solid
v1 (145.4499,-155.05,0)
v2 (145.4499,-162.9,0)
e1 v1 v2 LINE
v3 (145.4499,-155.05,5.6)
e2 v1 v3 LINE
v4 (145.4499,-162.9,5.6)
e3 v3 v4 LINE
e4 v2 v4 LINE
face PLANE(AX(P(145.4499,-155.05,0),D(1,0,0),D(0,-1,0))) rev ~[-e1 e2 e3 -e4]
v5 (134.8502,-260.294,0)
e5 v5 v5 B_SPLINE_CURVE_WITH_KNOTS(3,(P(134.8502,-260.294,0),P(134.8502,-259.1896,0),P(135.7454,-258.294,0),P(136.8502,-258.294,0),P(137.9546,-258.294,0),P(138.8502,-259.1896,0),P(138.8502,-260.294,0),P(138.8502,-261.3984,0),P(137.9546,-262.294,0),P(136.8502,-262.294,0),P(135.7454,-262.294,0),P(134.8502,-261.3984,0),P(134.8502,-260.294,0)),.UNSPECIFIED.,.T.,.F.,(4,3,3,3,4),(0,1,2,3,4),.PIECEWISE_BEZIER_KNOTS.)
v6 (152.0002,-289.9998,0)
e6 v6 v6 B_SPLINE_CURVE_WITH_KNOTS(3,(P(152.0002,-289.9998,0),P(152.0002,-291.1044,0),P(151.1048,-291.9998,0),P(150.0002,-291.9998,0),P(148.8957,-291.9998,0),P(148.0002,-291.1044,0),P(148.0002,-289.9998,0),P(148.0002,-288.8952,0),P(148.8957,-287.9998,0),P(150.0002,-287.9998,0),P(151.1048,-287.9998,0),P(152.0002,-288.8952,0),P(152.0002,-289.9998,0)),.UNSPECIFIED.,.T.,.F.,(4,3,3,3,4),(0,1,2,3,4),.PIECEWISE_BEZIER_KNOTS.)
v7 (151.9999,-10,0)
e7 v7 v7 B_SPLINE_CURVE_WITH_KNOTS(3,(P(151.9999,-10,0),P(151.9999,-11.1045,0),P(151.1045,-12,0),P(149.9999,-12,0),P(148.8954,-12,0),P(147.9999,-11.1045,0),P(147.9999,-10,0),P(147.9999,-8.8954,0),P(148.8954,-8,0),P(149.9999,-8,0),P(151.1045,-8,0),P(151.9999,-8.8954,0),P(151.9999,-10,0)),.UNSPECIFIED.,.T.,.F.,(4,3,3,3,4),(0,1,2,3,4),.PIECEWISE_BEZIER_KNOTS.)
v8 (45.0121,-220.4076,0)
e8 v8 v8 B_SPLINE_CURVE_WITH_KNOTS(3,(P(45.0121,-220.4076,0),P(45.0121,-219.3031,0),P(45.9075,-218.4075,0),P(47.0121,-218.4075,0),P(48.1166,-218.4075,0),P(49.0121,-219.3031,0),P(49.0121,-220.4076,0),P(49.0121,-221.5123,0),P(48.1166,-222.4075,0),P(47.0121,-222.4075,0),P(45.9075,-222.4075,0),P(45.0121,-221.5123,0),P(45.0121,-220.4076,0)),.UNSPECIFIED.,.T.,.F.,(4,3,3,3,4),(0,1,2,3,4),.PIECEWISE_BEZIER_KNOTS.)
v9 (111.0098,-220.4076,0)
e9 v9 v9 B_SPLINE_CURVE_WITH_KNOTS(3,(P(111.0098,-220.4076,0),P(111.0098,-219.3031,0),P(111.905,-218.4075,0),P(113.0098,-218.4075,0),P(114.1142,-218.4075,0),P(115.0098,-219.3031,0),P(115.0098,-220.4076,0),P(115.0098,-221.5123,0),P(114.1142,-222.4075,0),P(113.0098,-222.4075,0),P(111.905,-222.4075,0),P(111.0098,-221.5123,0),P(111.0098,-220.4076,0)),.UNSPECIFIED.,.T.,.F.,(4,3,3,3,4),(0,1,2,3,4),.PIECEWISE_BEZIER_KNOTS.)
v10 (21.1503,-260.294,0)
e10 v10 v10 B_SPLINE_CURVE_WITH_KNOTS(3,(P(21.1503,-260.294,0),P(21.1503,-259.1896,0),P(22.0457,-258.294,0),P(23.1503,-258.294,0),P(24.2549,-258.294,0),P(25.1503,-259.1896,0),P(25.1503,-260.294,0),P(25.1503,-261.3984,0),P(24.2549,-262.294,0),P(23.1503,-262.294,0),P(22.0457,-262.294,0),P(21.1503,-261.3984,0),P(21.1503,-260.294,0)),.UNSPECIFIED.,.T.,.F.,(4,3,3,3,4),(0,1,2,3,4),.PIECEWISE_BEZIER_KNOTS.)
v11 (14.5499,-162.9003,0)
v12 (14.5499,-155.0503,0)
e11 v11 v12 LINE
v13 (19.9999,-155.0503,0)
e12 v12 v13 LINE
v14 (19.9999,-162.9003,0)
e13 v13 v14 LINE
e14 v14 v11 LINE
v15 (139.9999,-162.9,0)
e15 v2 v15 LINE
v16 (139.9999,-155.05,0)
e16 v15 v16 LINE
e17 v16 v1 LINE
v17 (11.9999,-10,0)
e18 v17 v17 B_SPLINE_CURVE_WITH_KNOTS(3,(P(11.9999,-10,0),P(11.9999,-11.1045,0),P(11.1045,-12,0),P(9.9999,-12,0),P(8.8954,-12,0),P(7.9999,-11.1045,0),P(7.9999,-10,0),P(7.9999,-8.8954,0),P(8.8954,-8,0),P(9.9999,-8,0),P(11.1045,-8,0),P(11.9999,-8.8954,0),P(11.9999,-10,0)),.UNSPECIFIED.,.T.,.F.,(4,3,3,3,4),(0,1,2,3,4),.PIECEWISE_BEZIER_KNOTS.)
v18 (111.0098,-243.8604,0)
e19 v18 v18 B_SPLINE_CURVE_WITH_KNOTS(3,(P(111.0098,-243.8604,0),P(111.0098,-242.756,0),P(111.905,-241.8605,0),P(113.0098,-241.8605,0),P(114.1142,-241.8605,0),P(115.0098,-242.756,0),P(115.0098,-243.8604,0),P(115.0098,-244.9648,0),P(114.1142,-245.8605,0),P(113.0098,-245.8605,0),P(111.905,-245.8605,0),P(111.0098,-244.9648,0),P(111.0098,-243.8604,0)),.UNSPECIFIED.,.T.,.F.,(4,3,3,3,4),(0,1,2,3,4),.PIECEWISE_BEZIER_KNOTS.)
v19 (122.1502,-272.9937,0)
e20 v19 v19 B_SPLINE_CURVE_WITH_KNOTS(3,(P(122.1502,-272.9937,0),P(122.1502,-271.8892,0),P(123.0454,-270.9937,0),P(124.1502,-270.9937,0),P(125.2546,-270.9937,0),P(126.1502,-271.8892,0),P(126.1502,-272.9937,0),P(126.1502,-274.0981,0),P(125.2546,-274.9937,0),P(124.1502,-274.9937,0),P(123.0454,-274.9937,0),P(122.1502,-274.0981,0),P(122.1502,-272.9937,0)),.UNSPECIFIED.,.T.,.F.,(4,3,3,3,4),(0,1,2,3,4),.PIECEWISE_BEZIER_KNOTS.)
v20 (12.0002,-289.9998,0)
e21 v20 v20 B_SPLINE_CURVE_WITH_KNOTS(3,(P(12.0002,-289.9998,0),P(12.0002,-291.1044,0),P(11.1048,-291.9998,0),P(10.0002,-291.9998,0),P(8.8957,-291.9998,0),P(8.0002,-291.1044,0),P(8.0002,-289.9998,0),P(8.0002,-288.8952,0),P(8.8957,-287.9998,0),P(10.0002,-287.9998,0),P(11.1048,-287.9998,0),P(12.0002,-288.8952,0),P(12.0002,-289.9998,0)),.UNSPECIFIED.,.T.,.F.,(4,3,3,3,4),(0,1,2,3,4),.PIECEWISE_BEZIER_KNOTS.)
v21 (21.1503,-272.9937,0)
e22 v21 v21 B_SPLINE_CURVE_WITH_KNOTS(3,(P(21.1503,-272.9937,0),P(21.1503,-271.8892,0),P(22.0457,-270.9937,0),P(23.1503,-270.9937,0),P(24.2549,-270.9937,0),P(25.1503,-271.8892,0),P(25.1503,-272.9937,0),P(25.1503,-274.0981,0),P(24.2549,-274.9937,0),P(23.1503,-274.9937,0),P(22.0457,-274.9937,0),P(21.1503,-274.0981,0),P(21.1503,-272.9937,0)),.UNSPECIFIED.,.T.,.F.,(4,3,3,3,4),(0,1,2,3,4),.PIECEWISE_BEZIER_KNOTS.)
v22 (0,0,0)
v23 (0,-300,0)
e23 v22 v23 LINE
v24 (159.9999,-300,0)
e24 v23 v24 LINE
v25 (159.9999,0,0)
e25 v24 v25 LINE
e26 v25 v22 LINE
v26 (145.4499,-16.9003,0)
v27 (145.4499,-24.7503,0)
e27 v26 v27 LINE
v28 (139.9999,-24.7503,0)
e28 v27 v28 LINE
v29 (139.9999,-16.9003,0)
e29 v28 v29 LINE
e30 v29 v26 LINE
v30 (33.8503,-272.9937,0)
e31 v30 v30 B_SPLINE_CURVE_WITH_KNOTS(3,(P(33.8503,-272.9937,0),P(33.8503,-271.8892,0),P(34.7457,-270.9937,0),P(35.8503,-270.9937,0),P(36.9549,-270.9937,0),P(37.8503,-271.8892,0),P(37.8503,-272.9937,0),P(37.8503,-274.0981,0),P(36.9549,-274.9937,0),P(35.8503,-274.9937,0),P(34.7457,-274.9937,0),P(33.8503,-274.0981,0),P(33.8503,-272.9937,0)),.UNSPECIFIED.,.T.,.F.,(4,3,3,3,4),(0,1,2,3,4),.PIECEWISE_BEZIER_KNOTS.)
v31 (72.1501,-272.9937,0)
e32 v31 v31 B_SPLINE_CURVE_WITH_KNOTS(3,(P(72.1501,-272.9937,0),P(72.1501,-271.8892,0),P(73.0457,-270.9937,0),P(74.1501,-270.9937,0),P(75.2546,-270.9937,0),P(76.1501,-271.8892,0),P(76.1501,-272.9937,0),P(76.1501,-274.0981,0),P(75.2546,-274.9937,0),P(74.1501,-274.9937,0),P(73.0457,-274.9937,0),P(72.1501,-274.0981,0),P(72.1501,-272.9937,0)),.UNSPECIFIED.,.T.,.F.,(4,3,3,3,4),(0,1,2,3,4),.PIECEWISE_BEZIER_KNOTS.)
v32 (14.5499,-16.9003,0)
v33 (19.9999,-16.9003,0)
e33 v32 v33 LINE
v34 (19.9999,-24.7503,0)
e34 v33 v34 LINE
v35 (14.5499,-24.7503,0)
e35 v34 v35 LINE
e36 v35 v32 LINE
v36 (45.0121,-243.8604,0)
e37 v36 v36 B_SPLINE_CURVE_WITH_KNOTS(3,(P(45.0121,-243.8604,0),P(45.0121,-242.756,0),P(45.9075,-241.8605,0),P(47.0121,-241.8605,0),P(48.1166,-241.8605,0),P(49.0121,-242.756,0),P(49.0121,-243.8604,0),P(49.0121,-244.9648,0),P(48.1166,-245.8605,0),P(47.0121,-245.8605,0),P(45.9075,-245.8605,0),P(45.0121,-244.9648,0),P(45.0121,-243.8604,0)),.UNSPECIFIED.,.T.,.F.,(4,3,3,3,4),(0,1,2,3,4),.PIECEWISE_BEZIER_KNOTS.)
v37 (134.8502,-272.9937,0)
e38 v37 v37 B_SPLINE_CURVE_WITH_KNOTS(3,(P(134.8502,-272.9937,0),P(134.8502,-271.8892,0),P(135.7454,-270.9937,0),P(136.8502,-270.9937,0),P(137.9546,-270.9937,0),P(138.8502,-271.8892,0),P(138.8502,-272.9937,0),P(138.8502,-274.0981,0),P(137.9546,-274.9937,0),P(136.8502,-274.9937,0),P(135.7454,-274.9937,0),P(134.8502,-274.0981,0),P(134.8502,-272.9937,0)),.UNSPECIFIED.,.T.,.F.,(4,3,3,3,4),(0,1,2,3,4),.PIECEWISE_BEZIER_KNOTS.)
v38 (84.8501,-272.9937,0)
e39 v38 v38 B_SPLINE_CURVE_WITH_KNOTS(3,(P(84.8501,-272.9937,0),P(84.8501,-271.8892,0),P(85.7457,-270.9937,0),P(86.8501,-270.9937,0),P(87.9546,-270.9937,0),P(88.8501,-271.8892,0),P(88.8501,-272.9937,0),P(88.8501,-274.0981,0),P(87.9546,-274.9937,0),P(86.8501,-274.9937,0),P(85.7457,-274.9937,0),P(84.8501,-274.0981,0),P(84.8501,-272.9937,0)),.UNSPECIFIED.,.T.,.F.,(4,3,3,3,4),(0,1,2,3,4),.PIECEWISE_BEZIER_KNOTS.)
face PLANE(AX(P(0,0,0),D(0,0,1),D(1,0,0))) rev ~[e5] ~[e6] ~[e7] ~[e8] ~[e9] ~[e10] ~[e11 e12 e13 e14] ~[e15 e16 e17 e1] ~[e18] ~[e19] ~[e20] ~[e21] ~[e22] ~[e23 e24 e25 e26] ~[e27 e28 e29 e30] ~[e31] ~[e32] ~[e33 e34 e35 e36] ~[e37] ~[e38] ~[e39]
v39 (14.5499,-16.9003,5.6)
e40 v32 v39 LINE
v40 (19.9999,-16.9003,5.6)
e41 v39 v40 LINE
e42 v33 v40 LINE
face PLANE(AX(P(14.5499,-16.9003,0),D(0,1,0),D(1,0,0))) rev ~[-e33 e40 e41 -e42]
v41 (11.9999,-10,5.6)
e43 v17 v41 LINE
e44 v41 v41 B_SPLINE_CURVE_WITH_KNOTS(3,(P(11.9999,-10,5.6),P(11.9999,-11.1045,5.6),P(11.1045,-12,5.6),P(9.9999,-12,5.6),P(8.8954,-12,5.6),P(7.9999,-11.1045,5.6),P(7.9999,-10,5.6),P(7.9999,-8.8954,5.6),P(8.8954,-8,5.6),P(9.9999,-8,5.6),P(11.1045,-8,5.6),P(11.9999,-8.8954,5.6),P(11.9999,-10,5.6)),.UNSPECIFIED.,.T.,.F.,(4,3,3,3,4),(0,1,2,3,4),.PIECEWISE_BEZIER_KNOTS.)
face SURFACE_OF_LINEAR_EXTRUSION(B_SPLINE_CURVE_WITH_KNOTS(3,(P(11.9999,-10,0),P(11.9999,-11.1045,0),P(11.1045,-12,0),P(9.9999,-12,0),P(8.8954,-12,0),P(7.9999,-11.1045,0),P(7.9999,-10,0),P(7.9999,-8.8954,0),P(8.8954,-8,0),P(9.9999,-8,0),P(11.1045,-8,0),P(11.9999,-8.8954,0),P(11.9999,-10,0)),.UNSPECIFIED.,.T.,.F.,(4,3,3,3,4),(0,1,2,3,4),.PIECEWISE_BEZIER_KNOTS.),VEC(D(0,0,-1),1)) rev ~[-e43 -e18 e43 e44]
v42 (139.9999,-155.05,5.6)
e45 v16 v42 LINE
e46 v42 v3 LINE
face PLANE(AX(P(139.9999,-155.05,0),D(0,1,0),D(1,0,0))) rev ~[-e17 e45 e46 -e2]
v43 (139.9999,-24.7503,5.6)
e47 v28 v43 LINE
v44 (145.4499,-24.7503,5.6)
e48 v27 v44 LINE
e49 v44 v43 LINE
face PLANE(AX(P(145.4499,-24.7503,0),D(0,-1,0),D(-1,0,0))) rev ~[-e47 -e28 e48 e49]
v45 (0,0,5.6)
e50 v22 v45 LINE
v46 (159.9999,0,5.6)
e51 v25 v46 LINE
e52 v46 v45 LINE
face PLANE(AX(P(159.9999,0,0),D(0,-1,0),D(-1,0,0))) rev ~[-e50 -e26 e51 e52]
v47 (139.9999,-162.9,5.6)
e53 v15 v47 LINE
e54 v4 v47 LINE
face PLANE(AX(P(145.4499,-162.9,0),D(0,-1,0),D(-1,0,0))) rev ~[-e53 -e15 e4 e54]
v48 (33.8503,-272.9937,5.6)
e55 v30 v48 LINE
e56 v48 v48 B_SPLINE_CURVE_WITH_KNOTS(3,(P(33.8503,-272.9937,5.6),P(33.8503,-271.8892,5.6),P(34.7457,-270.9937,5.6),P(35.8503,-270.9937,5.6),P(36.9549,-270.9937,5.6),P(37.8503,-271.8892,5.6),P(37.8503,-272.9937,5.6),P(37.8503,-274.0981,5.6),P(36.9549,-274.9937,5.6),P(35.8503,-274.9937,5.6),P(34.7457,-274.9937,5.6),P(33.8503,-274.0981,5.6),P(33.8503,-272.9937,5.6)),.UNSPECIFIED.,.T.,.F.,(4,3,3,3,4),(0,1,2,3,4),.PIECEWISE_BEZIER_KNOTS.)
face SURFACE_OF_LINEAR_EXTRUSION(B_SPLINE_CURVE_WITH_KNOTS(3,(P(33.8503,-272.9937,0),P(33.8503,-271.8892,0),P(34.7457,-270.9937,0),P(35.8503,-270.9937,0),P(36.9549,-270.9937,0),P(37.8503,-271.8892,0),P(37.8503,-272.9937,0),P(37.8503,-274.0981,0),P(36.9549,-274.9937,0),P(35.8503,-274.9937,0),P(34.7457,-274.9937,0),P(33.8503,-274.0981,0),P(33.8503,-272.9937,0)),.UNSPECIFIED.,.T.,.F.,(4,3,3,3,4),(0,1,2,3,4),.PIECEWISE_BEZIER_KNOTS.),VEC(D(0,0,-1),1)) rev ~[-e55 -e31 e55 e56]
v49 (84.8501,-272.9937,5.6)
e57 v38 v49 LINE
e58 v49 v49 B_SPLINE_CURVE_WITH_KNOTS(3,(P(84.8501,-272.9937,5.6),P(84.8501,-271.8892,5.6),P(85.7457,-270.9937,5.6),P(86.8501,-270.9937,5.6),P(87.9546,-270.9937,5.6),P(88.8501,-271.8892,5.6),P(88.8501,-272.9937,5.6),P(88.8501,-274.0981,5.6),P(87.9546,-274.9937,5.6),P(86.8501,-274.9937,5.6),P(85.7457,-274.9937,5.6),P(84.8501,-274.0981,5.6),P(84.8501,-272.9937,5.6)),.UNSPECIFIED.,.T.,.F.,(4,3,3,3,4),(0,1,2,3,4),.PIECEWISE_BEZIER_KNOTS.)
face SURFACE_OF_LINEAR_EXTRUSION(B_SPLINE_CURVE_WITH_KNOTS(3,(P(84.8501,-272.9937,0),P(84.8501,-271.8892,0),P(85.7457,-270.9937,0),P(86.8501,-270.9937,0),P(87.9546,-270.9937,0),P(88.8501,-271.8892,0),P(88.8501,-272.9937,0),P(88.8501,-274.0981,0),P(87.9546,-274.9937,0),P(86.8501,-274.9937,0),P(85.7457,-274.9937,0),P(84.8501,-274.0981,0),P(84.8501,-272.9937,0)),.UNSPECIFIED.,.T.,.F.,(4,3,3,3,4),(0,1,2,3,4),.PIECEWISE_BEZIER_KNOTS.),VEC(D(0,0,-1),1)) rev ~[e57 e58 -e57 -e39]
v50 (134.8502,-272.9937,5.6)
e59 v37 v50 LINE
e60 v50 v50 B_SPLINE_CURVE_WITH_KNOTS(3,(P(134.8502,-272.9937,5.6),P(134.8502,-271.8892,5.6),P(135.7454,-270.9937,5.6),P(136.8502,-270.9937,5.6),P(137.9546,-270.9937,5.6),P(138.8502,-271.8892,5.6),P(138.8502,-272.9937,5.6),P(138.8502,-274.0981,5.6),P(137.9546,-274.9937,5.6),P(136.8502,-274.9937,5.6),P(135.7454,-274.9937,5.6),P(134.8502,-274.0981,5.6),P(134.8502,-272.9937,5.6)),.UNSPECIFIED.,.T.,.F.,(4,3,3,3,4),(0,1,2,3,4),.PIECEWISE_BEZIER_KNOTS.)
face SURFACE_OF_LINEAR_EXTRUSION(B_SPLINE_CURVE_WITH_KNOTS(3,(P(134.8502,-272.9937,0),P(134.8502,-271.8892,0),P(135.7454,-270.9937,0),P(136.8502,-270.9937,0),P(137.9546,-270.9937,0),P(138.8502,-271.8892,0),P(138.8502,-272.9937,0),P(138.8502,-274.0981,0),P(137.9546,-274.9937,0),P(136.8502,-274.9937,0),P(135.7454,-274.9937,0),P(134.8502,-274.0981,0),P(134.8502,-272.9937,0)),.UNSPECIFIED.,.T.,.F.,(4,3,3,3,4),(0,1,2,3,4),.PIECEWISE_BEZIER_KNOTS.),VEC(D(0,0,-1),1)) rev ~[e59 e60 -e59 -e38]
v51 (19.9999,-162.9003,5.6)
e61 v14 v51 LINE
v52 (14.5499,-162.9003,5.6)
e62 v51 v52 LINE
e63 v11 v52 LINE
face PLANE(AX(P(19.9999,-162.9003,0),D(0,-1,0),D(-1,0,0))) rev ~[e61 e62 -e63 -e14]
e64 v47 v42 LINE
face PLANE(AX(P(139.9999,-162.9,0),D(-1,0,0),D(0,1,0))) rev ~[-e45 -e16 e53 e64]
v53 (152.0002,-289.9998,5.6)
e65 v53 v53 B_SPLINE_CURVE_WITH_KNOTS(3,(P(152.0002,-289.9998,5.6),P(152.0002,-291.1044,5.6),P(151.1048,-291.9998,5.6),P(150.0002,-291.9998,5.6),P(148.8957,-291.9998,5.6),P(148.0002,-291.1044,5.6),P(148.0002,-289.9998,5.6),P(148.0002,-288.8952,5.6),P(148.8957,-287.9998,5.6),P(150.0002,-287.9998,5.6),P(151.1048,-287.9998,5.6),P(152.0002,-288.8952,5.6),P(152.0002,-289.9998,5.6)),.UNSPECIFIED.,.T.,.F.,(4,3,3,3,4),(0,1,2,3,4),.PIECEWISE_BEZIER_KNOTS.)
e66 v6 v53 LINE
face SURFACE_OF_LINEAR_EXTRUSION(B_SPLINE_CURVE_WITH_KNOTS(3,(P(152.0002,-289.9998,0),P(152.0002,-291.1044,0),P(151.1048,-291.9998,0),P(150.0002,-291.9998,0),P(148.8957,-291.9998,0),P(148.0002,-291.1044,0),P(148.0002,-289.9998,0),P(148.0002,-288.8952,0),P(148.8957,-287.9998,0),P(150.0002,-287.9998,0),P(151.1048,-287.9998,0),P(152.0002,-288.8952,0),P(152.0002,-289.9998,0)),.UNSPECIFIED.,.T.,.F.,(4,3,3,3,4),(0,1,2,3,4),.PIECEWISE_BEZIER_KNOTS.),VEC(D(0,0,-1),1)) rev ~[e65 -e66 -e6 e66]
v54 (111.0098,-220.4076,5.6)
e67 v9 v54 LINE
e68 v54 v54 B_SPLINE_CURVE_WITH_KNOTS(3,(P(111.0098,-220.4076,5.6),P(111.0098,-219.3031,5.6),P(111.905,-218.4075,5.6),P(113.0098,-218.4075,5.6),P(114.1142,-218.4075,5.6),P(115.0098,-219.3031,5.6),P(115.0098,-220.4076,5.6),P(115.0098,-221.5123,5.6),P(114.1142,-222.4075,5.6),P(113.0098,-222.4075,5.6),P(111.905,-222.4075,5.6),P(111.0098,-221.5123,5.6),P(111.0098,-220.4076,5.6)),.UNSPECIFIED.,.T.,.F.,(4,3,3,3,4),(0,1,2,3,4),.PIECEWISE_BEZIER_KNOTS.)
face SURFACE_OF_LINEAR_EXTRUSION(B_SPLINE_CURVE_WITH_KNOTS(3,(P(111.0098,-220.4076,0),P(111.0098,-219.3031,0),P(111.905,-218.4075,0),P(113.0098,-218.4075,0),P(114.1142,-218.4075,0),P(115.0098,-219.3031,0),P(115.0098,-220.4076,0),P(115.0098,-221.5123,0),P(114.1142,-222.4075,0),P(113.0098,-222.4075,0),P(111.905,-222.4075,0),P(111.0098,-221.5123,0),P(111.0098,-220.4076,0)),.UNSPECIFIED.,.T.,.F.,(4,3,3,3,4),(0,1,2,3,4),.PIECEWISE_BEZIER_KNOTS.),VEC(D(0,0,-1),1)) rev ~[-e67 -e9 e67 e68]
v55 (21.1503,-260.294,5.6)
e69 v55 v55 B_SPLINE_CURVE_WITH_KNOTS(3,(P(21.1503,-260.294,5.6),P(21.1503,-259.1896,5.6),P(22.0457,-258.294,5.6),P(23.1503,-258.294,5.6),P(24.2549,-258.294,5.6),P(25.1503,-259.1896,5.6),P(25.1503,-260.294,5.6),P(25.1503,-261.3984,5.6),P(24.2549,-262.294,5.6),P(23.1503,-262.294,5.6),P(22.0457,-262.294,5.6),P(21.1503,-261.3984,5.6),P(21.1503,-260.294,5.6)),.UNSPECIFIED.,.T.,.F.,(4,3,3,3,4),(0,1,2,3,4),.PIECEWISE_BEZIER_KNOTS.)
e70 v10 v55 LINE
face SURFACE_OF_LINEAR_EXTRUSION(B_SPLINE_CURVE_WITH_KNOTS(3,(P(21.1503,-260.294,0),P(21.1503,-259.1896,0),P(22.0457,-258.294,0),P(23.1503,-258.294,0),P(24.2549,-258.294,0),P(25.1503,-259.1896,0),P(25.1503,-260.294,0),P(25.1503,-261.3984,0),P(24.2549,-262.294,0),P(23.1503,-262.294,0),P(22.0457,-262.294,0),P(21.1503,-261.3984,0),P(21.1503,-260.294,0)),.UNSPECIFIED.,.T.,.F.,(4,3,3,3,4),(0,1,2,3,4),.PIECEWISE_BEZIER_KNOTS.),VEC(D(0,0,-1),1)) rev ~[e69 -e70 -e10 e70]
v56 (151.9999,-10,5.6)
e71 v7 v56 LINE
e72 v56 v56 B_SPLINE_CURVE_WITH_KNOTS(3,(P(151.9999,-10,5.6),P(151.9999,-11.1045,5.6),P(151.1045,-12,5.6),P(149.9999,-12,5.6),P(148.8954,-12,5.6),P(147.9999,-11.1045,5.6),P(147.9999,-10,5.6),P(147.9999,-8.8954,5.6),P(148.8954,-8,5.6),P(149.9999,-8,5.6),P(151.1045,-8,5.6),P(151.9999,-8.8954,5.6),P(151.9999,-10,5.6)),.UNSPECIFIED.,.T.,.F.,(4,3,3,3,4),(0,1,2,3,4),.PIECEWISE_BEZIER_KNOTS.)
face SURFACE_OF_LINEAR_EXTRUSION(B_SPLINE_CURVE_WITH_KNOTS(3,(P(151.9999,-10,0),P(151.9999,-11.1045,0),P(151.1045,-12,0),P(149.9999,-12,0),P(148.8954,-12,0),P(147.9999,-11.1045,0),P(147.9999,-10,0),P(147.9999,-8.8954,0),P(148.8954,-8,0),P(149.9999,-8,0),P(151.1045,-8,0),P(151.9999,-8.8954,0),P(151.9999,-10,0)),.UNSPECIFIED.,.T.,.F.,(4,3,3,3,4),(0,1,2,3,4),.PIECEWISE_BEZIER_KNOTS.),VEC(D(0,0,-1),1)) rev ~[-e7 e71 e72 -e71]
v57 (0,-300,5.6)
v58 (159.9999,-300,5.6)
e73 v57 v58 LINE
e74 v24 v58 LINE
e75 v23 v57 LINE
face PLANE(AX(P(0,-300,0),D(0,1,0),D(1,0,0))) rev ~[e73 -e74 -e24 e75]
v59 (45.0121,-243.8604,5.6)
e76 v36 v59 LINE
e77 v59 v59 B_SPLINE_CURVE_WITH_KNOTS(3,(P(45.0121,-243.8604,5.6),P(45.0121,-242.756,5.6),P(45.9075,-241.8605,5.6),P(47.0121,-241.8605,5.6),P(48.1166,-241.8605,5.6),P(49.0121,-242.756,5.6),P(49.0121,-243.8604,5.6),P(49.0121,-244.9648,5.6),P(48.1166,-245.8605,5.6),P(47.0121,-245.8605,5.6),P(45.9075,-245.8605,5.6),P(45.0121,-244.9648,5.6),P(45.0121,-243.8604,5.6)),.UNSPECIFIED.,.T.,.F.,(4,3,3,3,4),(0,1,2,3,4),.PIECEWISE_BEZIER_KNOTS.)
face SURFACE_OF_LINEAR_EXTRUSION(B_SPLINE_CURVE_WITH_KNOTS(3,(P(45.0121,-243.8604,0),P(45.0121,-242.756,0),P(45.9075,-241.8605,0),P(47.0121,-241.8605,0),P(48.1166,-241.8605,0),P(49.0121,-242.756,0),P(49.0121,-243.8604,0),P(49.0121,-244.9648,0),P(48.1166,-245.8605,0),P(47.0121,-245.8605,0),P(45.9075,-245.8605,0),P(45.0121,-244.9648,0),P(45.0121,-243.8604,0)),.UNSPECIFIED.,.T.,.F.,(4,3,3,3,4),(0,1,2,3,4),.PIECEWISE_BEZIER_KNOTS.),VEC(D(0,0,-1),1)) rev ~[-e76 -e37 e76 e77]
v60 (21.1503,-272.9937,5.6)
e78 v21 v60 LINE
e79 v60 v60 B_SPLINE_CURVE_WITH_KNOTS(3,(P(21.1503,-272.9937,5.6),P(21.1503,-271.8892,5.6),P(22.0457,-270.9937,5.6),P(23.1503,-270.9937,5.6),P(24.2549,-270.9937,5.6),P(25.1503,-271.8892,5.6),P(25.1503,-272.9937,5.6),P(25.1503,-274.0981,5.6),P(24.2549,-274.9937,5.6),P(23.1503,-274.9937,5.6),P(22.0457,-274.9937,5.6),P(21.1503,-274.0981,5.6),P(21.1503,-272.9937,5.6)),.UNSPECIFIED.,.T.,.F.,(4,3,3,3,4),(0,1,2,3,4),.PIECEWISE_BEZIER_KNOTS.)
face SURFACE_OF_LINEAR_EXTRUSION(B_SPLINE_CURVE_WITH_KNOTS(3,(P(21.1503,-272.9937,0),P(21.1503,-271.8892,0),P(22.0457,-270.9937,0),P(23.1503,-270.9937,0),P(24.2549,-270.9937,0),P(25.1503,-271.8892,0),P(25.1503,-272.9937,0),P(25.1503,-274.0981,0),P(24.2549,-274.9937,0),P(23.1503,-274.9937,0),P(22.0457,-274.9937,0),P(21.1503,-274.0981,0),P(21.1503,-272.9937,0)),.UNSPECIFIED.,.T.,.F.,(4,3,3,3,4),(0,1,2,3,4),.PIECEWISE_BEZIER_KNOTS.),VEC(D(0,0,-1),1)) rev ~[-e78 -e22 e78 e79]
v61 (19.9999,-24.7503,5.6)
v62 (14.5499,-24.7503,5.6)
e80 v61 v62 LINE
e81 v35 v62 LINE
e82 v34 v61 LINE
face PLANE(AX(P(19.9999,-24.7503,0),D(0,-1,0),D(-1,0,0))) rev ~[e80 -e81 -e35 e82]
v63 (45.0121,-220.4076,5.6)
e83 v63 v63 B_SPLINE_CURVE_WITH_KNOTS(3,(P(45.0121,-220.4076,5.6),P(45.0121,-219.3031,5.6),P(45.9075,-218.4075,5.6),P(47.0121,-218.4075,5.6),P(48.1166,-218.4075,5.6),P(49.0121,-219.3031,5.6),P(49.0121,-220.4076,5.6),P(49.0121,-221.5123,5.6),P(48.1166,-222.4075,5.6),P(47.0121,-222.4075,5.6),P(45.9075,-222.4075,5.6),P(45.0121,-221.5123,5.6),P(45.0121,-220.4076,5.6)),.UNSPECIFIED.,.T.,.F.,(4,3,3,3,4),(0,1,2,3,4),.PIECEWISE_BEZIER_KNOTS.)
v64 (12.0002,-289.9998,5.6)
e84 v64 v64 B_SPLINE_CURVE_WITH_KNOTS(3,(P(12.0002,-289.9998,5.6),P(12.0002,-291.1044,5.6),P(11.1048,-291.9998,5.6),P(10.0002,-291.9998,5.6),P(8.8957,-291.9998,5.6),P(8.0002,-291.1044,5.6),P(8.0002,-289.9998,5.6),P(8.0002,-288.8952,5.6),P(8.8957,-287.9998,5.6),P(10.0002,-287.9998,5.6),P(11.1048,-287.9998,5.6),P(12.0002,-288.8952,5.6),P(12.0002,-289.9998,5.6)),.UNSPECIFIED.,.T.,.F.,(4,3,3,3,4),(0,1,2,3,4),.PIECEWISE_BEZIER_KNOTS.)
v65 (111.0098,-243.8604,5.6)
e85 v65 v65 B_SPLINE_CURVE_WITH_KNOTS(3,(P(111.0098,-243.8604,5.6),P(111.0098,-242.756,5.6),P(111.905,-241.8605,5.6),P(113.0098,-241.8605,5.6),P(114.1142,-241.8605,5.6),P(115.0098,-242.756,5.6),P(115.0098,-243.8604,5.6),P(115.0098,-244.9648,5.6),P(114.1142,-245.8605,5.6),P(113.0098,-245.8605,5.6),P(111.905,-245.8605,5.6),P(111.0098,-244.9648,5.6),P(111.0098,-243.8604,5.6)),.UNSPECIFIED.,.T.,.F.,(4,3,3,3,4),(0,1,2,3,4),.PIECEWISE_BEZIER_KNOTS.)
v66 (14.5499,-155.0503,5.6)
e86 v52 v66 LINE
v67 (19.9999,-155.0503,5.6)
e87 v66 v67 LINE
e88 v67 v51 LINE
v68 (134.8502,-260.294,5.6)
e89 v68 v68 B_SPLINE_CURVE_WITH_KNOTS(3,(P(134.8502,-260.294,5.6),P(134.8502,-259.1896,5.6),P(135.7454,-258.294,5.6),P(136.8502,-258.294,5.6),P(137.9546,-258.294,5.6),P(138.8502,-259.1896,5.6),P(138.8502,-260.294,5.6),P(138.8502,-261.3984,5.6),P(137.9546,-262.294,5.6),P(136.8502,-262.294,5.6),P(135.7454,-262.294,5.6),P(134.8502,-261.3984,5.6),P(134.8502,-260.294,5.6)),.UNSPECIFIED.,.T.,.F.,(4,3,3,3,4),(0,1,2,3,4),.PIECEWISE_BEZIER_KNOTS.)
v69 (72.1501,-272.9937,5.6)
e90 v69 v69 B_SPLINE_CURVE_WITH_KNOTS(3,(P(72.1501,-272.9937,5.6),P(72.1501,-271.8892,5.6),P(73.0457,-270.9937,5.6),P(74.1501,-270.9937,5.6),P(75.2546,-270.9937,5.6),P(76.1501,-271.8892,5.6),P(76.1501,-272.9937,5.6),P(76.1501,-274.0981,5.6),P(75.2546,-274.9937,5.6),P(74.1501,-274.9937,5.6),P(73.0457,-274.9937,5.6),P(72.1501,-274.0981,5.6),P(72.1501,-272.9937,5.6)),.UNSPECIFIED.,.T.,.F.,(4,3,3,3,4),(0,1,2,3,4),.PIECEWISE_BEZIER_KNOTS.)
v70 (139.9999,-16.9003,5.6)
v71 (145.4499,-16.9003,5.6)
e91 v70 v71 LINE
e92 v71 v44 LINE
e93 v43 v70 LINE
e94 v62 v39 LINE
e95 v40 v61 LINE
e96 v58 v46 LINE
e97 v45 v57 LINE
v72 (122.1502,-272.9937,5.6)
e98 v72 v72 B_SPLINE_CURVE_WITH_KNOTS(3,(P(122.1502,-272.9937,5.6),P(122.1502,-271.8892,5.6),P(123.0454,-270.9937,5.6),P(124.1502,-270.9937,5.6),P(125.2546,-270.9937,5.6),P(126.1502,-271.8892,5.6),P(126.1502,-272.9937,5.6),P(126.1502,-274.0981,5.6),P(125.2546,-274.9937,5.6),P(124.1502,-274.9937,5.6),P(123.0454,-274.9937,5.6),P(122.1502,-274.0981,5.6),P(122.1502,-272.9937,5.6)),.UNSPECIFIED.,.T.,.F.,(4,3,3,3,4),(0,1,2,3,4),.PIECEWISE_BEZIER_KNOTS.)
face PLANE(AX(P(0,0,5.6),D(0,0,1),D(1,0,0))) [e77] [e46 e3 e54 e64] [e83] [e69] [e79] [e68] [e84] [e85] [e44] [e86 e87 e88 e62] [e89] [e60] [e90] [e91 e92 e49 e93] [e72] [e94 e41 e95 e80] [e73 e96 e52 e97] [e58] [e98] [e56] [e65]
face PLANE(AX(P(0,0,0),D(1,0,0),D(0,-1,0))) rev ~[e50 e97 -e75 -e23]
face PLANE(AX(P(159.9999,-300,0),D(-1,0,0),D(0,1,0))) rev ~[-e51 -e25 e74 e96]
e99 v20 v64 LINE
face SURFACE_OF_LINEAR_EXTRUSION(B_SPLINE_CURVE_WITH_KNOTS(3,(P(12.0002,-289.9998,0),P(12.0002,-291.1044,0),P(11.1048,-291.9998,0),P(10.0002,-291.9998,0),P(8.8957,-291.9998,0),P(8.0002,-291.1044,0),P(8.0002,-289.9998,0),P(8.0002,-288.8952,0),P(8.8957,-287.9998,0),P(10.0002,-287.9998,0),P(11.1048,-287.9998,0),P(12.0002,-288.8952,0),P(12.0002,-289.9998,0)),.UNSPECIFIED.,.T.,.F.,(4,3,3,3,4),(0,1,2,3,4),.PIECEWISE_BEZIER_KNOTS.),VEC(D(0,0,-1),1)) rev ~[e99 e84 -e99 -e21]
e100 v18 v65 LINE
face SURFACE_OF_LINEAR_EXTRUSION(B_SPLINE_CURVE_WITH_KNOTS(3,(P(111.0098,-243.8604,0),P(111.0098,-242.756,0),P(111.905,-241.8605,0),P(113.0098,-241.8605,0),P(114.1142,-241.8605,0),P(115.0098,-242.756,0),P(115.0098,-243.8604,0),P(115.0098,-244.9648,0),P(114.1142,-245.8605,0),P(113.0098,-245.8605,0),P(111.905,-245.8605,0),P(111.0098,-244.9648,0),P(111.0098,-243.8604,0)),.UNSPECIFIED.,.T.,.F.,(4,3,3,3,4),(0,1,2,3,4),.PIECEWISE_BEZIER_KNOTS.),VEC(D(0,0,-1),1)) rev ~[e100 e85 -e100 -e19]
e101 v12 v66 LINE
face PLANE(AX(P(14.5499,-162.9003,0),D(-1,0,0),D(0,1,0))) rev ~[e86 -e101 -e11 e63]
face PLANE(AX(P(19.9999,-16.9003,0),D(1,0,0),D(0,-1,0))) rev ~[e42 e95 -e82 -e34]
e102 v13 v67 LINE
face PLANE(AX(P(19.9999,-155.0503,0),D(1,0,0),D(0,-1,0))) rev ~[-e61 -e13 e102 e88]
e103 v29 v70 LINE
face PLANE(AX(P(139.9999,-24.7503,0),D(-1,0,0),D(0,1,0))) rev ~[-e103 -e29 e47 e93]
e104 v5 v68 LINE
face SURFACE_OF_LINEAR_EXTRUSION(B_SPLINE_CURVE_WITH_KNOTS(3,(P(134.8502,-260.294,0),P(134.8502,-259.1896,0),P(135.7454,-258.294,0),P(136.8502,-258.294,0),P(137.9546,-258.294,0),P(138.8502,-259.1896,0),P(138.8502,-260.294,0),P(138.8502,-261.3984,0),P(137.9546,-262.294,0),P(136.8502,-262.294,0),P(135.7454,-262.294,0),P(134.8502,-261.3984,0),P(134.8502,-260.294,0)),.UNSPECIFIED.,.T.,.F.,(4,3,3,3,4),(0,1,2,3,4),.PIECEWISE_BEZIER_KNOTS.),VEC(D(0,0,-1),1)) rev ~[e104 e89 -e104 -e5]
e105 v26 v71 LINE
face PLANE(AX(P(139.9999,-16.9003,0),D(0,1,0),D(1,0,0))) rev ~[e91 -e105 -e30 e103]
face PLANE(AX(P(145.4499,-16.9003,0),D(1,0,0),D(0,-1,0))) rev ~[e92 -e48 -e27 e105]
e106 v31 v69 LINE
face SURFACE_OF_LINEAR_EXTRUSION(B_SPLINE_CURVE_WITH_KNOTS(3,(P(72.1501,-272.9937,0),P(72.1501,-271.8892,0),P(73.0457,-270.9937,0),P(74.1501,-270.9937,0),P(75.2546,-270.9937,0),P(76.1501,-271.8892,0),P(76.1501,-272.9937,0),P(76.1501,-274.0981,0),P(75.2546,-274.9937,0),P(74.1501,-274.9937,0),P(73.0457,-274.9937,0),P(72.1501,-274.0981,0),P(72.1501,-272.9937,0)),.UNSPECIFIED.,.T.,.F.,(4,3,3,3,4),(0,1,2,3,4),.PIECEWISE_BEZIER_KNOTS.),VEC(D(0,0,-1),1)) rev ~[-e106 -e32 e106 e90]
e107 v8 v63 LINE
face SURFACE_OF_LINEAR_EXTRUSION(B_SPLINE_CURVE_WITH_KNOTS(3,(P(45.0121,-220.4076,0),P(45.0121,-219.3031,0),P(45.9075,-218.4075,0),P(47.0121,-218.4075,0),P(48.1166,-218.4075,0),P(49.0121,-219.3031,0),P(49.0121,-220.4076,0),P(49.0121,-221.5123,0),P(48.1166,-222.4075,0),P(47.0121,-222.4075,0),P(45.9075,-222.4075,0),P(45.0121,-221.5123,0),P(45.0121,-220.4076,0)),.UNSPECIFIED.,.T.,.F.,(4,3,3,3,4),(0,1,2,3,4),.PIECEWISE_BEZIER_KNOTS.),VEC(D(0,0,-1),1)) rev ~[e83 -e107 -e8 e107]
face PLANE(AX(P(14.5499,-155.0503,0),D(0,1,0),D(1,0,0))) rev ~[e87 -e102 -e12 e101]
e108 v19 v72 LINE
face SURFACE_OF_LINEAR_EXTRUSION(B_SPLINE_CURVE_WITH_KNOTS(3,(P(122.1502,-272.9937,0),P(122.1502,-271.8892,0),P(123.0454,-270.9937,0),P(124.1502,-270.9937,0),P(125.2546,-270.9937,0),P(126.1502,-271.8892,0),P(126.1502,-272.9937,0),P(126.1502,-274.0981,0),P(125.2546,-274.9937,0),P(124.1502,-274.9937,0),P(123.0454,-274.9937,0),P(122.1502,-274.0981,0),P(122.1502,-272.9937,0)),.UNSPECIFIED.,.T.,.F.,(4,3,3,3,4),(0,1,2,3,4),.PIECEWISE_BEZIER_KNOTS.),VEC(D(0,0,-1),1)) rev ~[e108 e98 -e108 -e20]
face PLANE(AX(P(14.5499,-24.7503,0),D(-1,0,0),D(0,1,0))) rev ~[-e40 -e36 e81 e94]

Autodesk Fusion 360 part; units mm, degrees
sketch "base_5mm_acrylic (1)" plane through (0, 0, 0) normal (0, 0, 1) x (1, 0, 0)
  line L0 (145.4499, -155.05) -> (145.4499, -162.9)
  line L1 (14.5499, -162.9003) -> (14.5499, -155.0503)
  line L2 (0, -300) -> (159.9999, -300)
  line L3 (139.9999, -24.7503) -> (139.9999, -16.9003)
  line L4 (19.9999, -155.0503) -> (19.9999, -162.9003)
  line L5 (14.5499, -16.9003) -> (19.9999, -16.9003)
  line L6 (14.5499, -24.7503) -> (14.5499, -16.9003)
  line L7 (159.9999, -300) -> (159.9999, 0)
  line L8 (19.9999, -162.9003) -> (14.5499, -162.9003)
  line L9 (139.9999, -155.05) -> (145.4499, -155.05)
  line L10 (19.9999, -24.7503) -> (14.5499, -24.7503)
  line L11 (14.5499, -155.0503) -> (19.9999, -155.0503)
  line L12 (139.9999, -16.9003) -> (145.4499, -16.9003)
  line L13 (145.4499, -16.9003) -> (145.4499, -24.7503)
  line L14 (145.4499, -24.7503) -> (139.9999, -24.7503)
  line L15 (0, 0) -> (0, -300)
  line L16 (139.9999, -162.9) -> (139.9999, -155.05)
  line L17 (159.9999, 0) -> (0, 0)
  line L18 (145.4499, -162.9) -> (139.9999, -162.9)
  line L19 (19.9999, -16.9003) -> (19.9999, -24.7503)
  spline S0 degree 3 poles (111.0098, -220.4076) (111.0098, -219.3031) (111.905, -218.4075) (113.0098, -218.4075) (114.1142, -218.4075) (115.0098, -219.3031) (115.0098, -220.4076) (115.0098, -221.5123) (114.1142, -222.4075) (113.0098, -222.4075) (111.905, -222.4075) (111.0098, -221.5123) (111.0098, -220.4076) knots 0 0 0 0 1 1 1 2 2 2 3 3 3 4 4 4 4
  spline S1 degree 3 poles (111.0098, -220.4076) (111.0098, -219.3031) (111.905, -218.4075) (113.0098, -218.4075) (114.1142, -218.4075) (115.0098, -219.3031) (115.0098, -220.4076) (115.0098, -221.5123) (114.1142, -222.4075) (113.0098, -222.4075) (111.905, -222.4075) (111.0098, -221.5123) (111.0098, -220.4076) knots 0 0 0 0 1 1 1 2 2 2 3 3 3 4 4 4 4
  spline S2 degree 3 poles (111.0098, -243.8604) (111.0098, -242.756) (111.905, -241.8605) (113.0098, -241.8605) (114.1142, -241.8605) (115.0098, -242.756) (115.0098, -243.8604) (115.0098, -244.9648) (114.1142, -245.8605) (113.0098, -245.8605) (111.905, -245.8605) (111.0098, -244.9648) (111.0098, -243.8604) knots 0 0 0 0 1 1 1 2 2 2 3 3 3 4 4 4 4
  spline S3 degree 3 poles (111.0098, -243.8604) (111.0098, -242.756) (111.905, -241.8605) (113.0098, -241.8605) (114.1142, -241.8605) (115.0098, -242.756) (115.0098, -243.8604) (115.0098, -244.9648) (114.1142, -245.8605) (113.0098, -245.8605) (111.905, -245.8605) (111.0098, -244.9648) (111.0098, -243.8604) knots 0 0 0 0 1 1 1 2 2 2 3 3 3 4 4 4 4
  spline S4 degree 3 poles (45.0121, -220.4076) (45.0121, -219.3031) (45.9075, -218.4075) (47.0121, -218.4075) (48.1166, -218.4075) (49.0121, -219.3031) (49.0121, -220.4076) (49.0121, -221.5123) (48.1166, -222.4075) (47.0121, -222.4075) (45.9075, -222.4075) (45.0121, -221.5123) (45.0121, -220.4076) knots 0 0 0 0 1 1 1 2 2 2 3 3 3 4 4 4 4
  spline S5 degree 3 poles (45.0121, -220.4076) (45.0121, -219.3031) (45.9075, -218.4075) (47.0121, -218.4075) (48.1166, -218.4075) (49.0121, -219.3031) (49.0121, -220.4076) (49.0121, -221.5123) (48.1166, -222.4075) (47.0121, -222.4075) (45.9075, -222.4075) (45.0121, -221.5123) (45.0121, -220.4076) knots 0 0 0 0 1 1 1 2 2 2 3 3 3 4 4 4 4
  spline S6 degree 3 poles (45.0121, -243.8604) (45.0121, -242.756) (45.9075, -241.8605) (47.0121, -241.8605) (48.1166, -241.8605) (49.0121, -242.756) (49.0121, -243.8604) (49.0121, -244.9648) (48.1166, -245.8605) (47.0121, -245.8605) (45.9075, -245.8605) (45.0121, -244.9648) (45.0121, -243.8604) knots 0 0 0 0 1 1 1 2 2 2 3 3 3 4 4 4 4
  spline S7 degree 3 poles (45.0121, -243.8604) (45.0121, -242.756) (45.9075, -241.8605) (47.0121, -241.8605) (48.1166, -241.8605) (49.0121, -242.756) (49.0121, -243.8604) (49.0121, -244.9648) (48.1166, -245.8605) (47.0121, -245.8605) (45.9075, -245.8605) (45.0121, -244.9648) (45.0121, -243.8604) knots 0 0 0 0 1 1 1 2 2 2 3 3 3 4 4 4 4
  spline S8 degree 3 poles (134.8502, -272.9937) (134.8502, -271.8892) (135.7454, -270.9937) (136.8502, -270.9937) (137.9546, -270.9937) (138.8502, -271.8892) (138.8502, -272.9937) (138.8502, -274.0981) (137.9546, -274.9937) (136.8502, -274.9937) (135.7454, -274.9937) (134.8502, -274.0981) (134.8502, -272.9937) knots 0 0 0 0 1 1 1 2 2 2 3 3 3 4 4 4 4
  spline S9 degree 3 poles (84.8501, -272.9937) (84.8501, -271.8892) (85.7457, -270.9937) (86.8501, -270.9937) (87.9546, -270.9937) (88.8501, -271.8892) (88.8501, -272.9937) (88.8501, -274.0981) (87.9546, -274.9937) (86.8501, -274.9937) (85.7457, -274.9937) (84.8501, -274.0981) (84.8501, -272.9937) knots 0 0 0 0 1 1 1 2 2 2 3 3 3 4 4 4 4
  spline S10 degree 3 poles (33.8503, -272.9937) (33.8503, -271.8892) (34.7457, -270.9937) (35.8503, -270.9937) (36.9549, -270.9937) (37.8503, -271.8892) (37.8503, -272.9937) (37.8503, -274.0981) (36.9549, -274.9937) (35.8503, -274.9937) (34.7457, -274.9937) (33.8503, -274.0981) (33.8503, -272.9937) knots 0 0 0 0 1 1 1 2 2 2 3 3 3 4 4 4 4
  spline S11 degree 3 poles (122.1502, -272.9937) (122.1502, -271.8892) (123.0454, -270.9937) (124.1502, -270.9937) (125.2546, -270.9937) (126.1502, -271.8892) (126.1502, -272.9937) (126.1502, -274.0981) (125.2546, -274.9937) (124.1502, -274.9937) (123.0454, -274.9937) (122.1502, -274.0981) (122.1502, -272.9937) knots 0 0 0 0 1 1 1 2 2 2 3 3 3 4 4 4 4
  spline S12 degree 3 poles (134.8502, -260.294) (134.8502, -259.1896) (135.7454, -258.294) (136.8502, -258.294) (137.9546, -258.294) (138.8502, -259.1896) (138.8502, -260.294) (138.8502, -261.3984) (137.9546, -262.294) (136.8502, -262.294) (135.7454, -262.294) (134.8502, -261.3984) (134.8502, -260.294) knots 0 0 0 0 1 1 1 2 2 2 3 3 3 4 4 4 4
  spline S13 degree 3 poles (72.1501, -272.9937) (72.1501, -271.8892) (73.0457, -270.9937) (74.1501, -270.9937) (75.2546, -270.9937) (76.1501, -271.8892) (76.1501, -272.9937) (76.1501, -274.0981) (75.2546, -274.9937) (74.1501, -274.9937) (73.0457, -274.9937) (72.1501, -274.0981) (72.1501, -272.9937) knots 0 0 0 0 1 1 1 2 2 2 3 3 3 4 4 4 4
  spline S14 degree 3 poles (21.1503, -272.9937) (21.1503, -271.8892) (22.0457, -270.9937) (23.1503, -270.9937) (24.2549, -270.9937) (25.1503, -271.8892) (25.1503, -272.9937) (25.1503, -274.0981) (24.2549, -274.9937) (23.1503, -274.9937) (22.0457, -274.9937) (21.1503, -274.0981) (21.1503, -272.9937) knots 0 0 0 0 1 1 1 2 2 2 3 3 3 4 4 4 4
  spline S15 degree 3 poles (21.1503, -260.294) (21.1503, -259.1896) (22.0457, -258.294) (23.1503, -258.294) (24.2549, -258.294) (25.1503, -259.1896) (25.1503, -260.294) (25.1503, -261.3984) (24.2549, -262.294) (23.1503, -262.294) (22.0457, -262.294) (21.1503, -261.3984) (21.1503, -260.294) knots 0 0 0 0 1 1 1 2 2 2 3 3 3 4 4 4 4
  spline S16 degree 3 poles (12.0002, -289.9998) (12.0002, -291.1044) (11.1048, -291.9998) (10.0002, -291.9998) (8.8957, -291.9998) (8.0002, -291.1044) (8.0002, -289.9998) (8.0002, -288.8952) (8.8957, -287.9998) (10.0002, -287.9998) (11.1048, -287.9998) (12.0002, -288.8952) (12.0002, -289.9998) knots 0 0 0 0 1 1 1 2 2 2 3 3 3 4 4 4 4
  spline S17 degree 3 poles (152.0002, -289.9998) (152.0002, -291.1044) (151.1048, -291.9998) (150.0002, -291.9998) (148.8957, -291.9998) (148.0002, -291.1044) (148.0002, -289.9998) (148.0002, -288.8952) (148.8957, -287.9998) (150.0002, -287.9998) (151.1048, -287.9998) (152.0002, -288.8952) (152.0002, -289.9998) knots 0 0 0 0 1 1 1 2 2 2 3 3 3 4 4 4 4
  spline S18 degree 3 poles (11.9999, -10) (11.9999, -11.1045) (11.1045, -12) (9.9999, -12) (8.8954, -12) (7.9999, -11.1045) (7.9999, -10) (7.9999, -8.8954) (8.8954, -8) (9.9999, -8) (11.1045, -8) (11.9999, -8.8954) (11.9999, -10) knots 0 0 0 0 1 1 1 2 2 2 3 3 3 4 4 4 4
  spline S19 degree 3 poles (151.9999, -10) (151.9999, -11.1045) (151.1045, -12) (149.9999, -12) (148.8954, -12) (147.9999, -11.1045) (147.9999, -10) (147.9999, -8.8954) (148.8954, -8) (149.9999, -8) (151.1045, -8) (151.9999, -8.8954) (151.9999, -10) knots 0 0 0 0 1 1 1 2 2 2 3 3 3 4 4 4 4
  line L20 (79.9999, 0) -> (79.9999, -300) construction
  point P0 (10, -287.9998)
  dimension "d37" = 159.9999
  dimension "d38" = 300
  dimension "d42" = 120
  dimension "d43" = 120
  dimension "d44" = 5.45
  dimension "d47" = 19.9999
  dimension "d51" = 12.0002
  dimension "d52" = 12.0002
  dimension "d54" = 10
  dimension "d55" = 11.9999
  dimension "d56" = 10
  dimension "d57" = 7.9999
  dimension "d60" = 146
  dimension "d61" = 145.9997
  dimension "d62" = 130.9
  dimension "d70" = 7.85
  dimension "d73" = 16.9003
  dimension "d74" = 16.9003
  dimension "d71" = 130.3
extrude "Extrude1" add sketch "base_5mm_acrylic (1)" along normal blind 5.6
extrude "Extrude3" [suppressed]
extrude "Extrude2" [suppressed]
equation "acr_thickness = 5.6 mm"
equation "kerf = 0.15 mm"
equation "d7 = acr_thickness"
equation "d31 = acr_thickness"
equation "d44 = acr_thickness - 1 * kerf"
equation "d70 = 8.00 mm - 1 * kerf"
